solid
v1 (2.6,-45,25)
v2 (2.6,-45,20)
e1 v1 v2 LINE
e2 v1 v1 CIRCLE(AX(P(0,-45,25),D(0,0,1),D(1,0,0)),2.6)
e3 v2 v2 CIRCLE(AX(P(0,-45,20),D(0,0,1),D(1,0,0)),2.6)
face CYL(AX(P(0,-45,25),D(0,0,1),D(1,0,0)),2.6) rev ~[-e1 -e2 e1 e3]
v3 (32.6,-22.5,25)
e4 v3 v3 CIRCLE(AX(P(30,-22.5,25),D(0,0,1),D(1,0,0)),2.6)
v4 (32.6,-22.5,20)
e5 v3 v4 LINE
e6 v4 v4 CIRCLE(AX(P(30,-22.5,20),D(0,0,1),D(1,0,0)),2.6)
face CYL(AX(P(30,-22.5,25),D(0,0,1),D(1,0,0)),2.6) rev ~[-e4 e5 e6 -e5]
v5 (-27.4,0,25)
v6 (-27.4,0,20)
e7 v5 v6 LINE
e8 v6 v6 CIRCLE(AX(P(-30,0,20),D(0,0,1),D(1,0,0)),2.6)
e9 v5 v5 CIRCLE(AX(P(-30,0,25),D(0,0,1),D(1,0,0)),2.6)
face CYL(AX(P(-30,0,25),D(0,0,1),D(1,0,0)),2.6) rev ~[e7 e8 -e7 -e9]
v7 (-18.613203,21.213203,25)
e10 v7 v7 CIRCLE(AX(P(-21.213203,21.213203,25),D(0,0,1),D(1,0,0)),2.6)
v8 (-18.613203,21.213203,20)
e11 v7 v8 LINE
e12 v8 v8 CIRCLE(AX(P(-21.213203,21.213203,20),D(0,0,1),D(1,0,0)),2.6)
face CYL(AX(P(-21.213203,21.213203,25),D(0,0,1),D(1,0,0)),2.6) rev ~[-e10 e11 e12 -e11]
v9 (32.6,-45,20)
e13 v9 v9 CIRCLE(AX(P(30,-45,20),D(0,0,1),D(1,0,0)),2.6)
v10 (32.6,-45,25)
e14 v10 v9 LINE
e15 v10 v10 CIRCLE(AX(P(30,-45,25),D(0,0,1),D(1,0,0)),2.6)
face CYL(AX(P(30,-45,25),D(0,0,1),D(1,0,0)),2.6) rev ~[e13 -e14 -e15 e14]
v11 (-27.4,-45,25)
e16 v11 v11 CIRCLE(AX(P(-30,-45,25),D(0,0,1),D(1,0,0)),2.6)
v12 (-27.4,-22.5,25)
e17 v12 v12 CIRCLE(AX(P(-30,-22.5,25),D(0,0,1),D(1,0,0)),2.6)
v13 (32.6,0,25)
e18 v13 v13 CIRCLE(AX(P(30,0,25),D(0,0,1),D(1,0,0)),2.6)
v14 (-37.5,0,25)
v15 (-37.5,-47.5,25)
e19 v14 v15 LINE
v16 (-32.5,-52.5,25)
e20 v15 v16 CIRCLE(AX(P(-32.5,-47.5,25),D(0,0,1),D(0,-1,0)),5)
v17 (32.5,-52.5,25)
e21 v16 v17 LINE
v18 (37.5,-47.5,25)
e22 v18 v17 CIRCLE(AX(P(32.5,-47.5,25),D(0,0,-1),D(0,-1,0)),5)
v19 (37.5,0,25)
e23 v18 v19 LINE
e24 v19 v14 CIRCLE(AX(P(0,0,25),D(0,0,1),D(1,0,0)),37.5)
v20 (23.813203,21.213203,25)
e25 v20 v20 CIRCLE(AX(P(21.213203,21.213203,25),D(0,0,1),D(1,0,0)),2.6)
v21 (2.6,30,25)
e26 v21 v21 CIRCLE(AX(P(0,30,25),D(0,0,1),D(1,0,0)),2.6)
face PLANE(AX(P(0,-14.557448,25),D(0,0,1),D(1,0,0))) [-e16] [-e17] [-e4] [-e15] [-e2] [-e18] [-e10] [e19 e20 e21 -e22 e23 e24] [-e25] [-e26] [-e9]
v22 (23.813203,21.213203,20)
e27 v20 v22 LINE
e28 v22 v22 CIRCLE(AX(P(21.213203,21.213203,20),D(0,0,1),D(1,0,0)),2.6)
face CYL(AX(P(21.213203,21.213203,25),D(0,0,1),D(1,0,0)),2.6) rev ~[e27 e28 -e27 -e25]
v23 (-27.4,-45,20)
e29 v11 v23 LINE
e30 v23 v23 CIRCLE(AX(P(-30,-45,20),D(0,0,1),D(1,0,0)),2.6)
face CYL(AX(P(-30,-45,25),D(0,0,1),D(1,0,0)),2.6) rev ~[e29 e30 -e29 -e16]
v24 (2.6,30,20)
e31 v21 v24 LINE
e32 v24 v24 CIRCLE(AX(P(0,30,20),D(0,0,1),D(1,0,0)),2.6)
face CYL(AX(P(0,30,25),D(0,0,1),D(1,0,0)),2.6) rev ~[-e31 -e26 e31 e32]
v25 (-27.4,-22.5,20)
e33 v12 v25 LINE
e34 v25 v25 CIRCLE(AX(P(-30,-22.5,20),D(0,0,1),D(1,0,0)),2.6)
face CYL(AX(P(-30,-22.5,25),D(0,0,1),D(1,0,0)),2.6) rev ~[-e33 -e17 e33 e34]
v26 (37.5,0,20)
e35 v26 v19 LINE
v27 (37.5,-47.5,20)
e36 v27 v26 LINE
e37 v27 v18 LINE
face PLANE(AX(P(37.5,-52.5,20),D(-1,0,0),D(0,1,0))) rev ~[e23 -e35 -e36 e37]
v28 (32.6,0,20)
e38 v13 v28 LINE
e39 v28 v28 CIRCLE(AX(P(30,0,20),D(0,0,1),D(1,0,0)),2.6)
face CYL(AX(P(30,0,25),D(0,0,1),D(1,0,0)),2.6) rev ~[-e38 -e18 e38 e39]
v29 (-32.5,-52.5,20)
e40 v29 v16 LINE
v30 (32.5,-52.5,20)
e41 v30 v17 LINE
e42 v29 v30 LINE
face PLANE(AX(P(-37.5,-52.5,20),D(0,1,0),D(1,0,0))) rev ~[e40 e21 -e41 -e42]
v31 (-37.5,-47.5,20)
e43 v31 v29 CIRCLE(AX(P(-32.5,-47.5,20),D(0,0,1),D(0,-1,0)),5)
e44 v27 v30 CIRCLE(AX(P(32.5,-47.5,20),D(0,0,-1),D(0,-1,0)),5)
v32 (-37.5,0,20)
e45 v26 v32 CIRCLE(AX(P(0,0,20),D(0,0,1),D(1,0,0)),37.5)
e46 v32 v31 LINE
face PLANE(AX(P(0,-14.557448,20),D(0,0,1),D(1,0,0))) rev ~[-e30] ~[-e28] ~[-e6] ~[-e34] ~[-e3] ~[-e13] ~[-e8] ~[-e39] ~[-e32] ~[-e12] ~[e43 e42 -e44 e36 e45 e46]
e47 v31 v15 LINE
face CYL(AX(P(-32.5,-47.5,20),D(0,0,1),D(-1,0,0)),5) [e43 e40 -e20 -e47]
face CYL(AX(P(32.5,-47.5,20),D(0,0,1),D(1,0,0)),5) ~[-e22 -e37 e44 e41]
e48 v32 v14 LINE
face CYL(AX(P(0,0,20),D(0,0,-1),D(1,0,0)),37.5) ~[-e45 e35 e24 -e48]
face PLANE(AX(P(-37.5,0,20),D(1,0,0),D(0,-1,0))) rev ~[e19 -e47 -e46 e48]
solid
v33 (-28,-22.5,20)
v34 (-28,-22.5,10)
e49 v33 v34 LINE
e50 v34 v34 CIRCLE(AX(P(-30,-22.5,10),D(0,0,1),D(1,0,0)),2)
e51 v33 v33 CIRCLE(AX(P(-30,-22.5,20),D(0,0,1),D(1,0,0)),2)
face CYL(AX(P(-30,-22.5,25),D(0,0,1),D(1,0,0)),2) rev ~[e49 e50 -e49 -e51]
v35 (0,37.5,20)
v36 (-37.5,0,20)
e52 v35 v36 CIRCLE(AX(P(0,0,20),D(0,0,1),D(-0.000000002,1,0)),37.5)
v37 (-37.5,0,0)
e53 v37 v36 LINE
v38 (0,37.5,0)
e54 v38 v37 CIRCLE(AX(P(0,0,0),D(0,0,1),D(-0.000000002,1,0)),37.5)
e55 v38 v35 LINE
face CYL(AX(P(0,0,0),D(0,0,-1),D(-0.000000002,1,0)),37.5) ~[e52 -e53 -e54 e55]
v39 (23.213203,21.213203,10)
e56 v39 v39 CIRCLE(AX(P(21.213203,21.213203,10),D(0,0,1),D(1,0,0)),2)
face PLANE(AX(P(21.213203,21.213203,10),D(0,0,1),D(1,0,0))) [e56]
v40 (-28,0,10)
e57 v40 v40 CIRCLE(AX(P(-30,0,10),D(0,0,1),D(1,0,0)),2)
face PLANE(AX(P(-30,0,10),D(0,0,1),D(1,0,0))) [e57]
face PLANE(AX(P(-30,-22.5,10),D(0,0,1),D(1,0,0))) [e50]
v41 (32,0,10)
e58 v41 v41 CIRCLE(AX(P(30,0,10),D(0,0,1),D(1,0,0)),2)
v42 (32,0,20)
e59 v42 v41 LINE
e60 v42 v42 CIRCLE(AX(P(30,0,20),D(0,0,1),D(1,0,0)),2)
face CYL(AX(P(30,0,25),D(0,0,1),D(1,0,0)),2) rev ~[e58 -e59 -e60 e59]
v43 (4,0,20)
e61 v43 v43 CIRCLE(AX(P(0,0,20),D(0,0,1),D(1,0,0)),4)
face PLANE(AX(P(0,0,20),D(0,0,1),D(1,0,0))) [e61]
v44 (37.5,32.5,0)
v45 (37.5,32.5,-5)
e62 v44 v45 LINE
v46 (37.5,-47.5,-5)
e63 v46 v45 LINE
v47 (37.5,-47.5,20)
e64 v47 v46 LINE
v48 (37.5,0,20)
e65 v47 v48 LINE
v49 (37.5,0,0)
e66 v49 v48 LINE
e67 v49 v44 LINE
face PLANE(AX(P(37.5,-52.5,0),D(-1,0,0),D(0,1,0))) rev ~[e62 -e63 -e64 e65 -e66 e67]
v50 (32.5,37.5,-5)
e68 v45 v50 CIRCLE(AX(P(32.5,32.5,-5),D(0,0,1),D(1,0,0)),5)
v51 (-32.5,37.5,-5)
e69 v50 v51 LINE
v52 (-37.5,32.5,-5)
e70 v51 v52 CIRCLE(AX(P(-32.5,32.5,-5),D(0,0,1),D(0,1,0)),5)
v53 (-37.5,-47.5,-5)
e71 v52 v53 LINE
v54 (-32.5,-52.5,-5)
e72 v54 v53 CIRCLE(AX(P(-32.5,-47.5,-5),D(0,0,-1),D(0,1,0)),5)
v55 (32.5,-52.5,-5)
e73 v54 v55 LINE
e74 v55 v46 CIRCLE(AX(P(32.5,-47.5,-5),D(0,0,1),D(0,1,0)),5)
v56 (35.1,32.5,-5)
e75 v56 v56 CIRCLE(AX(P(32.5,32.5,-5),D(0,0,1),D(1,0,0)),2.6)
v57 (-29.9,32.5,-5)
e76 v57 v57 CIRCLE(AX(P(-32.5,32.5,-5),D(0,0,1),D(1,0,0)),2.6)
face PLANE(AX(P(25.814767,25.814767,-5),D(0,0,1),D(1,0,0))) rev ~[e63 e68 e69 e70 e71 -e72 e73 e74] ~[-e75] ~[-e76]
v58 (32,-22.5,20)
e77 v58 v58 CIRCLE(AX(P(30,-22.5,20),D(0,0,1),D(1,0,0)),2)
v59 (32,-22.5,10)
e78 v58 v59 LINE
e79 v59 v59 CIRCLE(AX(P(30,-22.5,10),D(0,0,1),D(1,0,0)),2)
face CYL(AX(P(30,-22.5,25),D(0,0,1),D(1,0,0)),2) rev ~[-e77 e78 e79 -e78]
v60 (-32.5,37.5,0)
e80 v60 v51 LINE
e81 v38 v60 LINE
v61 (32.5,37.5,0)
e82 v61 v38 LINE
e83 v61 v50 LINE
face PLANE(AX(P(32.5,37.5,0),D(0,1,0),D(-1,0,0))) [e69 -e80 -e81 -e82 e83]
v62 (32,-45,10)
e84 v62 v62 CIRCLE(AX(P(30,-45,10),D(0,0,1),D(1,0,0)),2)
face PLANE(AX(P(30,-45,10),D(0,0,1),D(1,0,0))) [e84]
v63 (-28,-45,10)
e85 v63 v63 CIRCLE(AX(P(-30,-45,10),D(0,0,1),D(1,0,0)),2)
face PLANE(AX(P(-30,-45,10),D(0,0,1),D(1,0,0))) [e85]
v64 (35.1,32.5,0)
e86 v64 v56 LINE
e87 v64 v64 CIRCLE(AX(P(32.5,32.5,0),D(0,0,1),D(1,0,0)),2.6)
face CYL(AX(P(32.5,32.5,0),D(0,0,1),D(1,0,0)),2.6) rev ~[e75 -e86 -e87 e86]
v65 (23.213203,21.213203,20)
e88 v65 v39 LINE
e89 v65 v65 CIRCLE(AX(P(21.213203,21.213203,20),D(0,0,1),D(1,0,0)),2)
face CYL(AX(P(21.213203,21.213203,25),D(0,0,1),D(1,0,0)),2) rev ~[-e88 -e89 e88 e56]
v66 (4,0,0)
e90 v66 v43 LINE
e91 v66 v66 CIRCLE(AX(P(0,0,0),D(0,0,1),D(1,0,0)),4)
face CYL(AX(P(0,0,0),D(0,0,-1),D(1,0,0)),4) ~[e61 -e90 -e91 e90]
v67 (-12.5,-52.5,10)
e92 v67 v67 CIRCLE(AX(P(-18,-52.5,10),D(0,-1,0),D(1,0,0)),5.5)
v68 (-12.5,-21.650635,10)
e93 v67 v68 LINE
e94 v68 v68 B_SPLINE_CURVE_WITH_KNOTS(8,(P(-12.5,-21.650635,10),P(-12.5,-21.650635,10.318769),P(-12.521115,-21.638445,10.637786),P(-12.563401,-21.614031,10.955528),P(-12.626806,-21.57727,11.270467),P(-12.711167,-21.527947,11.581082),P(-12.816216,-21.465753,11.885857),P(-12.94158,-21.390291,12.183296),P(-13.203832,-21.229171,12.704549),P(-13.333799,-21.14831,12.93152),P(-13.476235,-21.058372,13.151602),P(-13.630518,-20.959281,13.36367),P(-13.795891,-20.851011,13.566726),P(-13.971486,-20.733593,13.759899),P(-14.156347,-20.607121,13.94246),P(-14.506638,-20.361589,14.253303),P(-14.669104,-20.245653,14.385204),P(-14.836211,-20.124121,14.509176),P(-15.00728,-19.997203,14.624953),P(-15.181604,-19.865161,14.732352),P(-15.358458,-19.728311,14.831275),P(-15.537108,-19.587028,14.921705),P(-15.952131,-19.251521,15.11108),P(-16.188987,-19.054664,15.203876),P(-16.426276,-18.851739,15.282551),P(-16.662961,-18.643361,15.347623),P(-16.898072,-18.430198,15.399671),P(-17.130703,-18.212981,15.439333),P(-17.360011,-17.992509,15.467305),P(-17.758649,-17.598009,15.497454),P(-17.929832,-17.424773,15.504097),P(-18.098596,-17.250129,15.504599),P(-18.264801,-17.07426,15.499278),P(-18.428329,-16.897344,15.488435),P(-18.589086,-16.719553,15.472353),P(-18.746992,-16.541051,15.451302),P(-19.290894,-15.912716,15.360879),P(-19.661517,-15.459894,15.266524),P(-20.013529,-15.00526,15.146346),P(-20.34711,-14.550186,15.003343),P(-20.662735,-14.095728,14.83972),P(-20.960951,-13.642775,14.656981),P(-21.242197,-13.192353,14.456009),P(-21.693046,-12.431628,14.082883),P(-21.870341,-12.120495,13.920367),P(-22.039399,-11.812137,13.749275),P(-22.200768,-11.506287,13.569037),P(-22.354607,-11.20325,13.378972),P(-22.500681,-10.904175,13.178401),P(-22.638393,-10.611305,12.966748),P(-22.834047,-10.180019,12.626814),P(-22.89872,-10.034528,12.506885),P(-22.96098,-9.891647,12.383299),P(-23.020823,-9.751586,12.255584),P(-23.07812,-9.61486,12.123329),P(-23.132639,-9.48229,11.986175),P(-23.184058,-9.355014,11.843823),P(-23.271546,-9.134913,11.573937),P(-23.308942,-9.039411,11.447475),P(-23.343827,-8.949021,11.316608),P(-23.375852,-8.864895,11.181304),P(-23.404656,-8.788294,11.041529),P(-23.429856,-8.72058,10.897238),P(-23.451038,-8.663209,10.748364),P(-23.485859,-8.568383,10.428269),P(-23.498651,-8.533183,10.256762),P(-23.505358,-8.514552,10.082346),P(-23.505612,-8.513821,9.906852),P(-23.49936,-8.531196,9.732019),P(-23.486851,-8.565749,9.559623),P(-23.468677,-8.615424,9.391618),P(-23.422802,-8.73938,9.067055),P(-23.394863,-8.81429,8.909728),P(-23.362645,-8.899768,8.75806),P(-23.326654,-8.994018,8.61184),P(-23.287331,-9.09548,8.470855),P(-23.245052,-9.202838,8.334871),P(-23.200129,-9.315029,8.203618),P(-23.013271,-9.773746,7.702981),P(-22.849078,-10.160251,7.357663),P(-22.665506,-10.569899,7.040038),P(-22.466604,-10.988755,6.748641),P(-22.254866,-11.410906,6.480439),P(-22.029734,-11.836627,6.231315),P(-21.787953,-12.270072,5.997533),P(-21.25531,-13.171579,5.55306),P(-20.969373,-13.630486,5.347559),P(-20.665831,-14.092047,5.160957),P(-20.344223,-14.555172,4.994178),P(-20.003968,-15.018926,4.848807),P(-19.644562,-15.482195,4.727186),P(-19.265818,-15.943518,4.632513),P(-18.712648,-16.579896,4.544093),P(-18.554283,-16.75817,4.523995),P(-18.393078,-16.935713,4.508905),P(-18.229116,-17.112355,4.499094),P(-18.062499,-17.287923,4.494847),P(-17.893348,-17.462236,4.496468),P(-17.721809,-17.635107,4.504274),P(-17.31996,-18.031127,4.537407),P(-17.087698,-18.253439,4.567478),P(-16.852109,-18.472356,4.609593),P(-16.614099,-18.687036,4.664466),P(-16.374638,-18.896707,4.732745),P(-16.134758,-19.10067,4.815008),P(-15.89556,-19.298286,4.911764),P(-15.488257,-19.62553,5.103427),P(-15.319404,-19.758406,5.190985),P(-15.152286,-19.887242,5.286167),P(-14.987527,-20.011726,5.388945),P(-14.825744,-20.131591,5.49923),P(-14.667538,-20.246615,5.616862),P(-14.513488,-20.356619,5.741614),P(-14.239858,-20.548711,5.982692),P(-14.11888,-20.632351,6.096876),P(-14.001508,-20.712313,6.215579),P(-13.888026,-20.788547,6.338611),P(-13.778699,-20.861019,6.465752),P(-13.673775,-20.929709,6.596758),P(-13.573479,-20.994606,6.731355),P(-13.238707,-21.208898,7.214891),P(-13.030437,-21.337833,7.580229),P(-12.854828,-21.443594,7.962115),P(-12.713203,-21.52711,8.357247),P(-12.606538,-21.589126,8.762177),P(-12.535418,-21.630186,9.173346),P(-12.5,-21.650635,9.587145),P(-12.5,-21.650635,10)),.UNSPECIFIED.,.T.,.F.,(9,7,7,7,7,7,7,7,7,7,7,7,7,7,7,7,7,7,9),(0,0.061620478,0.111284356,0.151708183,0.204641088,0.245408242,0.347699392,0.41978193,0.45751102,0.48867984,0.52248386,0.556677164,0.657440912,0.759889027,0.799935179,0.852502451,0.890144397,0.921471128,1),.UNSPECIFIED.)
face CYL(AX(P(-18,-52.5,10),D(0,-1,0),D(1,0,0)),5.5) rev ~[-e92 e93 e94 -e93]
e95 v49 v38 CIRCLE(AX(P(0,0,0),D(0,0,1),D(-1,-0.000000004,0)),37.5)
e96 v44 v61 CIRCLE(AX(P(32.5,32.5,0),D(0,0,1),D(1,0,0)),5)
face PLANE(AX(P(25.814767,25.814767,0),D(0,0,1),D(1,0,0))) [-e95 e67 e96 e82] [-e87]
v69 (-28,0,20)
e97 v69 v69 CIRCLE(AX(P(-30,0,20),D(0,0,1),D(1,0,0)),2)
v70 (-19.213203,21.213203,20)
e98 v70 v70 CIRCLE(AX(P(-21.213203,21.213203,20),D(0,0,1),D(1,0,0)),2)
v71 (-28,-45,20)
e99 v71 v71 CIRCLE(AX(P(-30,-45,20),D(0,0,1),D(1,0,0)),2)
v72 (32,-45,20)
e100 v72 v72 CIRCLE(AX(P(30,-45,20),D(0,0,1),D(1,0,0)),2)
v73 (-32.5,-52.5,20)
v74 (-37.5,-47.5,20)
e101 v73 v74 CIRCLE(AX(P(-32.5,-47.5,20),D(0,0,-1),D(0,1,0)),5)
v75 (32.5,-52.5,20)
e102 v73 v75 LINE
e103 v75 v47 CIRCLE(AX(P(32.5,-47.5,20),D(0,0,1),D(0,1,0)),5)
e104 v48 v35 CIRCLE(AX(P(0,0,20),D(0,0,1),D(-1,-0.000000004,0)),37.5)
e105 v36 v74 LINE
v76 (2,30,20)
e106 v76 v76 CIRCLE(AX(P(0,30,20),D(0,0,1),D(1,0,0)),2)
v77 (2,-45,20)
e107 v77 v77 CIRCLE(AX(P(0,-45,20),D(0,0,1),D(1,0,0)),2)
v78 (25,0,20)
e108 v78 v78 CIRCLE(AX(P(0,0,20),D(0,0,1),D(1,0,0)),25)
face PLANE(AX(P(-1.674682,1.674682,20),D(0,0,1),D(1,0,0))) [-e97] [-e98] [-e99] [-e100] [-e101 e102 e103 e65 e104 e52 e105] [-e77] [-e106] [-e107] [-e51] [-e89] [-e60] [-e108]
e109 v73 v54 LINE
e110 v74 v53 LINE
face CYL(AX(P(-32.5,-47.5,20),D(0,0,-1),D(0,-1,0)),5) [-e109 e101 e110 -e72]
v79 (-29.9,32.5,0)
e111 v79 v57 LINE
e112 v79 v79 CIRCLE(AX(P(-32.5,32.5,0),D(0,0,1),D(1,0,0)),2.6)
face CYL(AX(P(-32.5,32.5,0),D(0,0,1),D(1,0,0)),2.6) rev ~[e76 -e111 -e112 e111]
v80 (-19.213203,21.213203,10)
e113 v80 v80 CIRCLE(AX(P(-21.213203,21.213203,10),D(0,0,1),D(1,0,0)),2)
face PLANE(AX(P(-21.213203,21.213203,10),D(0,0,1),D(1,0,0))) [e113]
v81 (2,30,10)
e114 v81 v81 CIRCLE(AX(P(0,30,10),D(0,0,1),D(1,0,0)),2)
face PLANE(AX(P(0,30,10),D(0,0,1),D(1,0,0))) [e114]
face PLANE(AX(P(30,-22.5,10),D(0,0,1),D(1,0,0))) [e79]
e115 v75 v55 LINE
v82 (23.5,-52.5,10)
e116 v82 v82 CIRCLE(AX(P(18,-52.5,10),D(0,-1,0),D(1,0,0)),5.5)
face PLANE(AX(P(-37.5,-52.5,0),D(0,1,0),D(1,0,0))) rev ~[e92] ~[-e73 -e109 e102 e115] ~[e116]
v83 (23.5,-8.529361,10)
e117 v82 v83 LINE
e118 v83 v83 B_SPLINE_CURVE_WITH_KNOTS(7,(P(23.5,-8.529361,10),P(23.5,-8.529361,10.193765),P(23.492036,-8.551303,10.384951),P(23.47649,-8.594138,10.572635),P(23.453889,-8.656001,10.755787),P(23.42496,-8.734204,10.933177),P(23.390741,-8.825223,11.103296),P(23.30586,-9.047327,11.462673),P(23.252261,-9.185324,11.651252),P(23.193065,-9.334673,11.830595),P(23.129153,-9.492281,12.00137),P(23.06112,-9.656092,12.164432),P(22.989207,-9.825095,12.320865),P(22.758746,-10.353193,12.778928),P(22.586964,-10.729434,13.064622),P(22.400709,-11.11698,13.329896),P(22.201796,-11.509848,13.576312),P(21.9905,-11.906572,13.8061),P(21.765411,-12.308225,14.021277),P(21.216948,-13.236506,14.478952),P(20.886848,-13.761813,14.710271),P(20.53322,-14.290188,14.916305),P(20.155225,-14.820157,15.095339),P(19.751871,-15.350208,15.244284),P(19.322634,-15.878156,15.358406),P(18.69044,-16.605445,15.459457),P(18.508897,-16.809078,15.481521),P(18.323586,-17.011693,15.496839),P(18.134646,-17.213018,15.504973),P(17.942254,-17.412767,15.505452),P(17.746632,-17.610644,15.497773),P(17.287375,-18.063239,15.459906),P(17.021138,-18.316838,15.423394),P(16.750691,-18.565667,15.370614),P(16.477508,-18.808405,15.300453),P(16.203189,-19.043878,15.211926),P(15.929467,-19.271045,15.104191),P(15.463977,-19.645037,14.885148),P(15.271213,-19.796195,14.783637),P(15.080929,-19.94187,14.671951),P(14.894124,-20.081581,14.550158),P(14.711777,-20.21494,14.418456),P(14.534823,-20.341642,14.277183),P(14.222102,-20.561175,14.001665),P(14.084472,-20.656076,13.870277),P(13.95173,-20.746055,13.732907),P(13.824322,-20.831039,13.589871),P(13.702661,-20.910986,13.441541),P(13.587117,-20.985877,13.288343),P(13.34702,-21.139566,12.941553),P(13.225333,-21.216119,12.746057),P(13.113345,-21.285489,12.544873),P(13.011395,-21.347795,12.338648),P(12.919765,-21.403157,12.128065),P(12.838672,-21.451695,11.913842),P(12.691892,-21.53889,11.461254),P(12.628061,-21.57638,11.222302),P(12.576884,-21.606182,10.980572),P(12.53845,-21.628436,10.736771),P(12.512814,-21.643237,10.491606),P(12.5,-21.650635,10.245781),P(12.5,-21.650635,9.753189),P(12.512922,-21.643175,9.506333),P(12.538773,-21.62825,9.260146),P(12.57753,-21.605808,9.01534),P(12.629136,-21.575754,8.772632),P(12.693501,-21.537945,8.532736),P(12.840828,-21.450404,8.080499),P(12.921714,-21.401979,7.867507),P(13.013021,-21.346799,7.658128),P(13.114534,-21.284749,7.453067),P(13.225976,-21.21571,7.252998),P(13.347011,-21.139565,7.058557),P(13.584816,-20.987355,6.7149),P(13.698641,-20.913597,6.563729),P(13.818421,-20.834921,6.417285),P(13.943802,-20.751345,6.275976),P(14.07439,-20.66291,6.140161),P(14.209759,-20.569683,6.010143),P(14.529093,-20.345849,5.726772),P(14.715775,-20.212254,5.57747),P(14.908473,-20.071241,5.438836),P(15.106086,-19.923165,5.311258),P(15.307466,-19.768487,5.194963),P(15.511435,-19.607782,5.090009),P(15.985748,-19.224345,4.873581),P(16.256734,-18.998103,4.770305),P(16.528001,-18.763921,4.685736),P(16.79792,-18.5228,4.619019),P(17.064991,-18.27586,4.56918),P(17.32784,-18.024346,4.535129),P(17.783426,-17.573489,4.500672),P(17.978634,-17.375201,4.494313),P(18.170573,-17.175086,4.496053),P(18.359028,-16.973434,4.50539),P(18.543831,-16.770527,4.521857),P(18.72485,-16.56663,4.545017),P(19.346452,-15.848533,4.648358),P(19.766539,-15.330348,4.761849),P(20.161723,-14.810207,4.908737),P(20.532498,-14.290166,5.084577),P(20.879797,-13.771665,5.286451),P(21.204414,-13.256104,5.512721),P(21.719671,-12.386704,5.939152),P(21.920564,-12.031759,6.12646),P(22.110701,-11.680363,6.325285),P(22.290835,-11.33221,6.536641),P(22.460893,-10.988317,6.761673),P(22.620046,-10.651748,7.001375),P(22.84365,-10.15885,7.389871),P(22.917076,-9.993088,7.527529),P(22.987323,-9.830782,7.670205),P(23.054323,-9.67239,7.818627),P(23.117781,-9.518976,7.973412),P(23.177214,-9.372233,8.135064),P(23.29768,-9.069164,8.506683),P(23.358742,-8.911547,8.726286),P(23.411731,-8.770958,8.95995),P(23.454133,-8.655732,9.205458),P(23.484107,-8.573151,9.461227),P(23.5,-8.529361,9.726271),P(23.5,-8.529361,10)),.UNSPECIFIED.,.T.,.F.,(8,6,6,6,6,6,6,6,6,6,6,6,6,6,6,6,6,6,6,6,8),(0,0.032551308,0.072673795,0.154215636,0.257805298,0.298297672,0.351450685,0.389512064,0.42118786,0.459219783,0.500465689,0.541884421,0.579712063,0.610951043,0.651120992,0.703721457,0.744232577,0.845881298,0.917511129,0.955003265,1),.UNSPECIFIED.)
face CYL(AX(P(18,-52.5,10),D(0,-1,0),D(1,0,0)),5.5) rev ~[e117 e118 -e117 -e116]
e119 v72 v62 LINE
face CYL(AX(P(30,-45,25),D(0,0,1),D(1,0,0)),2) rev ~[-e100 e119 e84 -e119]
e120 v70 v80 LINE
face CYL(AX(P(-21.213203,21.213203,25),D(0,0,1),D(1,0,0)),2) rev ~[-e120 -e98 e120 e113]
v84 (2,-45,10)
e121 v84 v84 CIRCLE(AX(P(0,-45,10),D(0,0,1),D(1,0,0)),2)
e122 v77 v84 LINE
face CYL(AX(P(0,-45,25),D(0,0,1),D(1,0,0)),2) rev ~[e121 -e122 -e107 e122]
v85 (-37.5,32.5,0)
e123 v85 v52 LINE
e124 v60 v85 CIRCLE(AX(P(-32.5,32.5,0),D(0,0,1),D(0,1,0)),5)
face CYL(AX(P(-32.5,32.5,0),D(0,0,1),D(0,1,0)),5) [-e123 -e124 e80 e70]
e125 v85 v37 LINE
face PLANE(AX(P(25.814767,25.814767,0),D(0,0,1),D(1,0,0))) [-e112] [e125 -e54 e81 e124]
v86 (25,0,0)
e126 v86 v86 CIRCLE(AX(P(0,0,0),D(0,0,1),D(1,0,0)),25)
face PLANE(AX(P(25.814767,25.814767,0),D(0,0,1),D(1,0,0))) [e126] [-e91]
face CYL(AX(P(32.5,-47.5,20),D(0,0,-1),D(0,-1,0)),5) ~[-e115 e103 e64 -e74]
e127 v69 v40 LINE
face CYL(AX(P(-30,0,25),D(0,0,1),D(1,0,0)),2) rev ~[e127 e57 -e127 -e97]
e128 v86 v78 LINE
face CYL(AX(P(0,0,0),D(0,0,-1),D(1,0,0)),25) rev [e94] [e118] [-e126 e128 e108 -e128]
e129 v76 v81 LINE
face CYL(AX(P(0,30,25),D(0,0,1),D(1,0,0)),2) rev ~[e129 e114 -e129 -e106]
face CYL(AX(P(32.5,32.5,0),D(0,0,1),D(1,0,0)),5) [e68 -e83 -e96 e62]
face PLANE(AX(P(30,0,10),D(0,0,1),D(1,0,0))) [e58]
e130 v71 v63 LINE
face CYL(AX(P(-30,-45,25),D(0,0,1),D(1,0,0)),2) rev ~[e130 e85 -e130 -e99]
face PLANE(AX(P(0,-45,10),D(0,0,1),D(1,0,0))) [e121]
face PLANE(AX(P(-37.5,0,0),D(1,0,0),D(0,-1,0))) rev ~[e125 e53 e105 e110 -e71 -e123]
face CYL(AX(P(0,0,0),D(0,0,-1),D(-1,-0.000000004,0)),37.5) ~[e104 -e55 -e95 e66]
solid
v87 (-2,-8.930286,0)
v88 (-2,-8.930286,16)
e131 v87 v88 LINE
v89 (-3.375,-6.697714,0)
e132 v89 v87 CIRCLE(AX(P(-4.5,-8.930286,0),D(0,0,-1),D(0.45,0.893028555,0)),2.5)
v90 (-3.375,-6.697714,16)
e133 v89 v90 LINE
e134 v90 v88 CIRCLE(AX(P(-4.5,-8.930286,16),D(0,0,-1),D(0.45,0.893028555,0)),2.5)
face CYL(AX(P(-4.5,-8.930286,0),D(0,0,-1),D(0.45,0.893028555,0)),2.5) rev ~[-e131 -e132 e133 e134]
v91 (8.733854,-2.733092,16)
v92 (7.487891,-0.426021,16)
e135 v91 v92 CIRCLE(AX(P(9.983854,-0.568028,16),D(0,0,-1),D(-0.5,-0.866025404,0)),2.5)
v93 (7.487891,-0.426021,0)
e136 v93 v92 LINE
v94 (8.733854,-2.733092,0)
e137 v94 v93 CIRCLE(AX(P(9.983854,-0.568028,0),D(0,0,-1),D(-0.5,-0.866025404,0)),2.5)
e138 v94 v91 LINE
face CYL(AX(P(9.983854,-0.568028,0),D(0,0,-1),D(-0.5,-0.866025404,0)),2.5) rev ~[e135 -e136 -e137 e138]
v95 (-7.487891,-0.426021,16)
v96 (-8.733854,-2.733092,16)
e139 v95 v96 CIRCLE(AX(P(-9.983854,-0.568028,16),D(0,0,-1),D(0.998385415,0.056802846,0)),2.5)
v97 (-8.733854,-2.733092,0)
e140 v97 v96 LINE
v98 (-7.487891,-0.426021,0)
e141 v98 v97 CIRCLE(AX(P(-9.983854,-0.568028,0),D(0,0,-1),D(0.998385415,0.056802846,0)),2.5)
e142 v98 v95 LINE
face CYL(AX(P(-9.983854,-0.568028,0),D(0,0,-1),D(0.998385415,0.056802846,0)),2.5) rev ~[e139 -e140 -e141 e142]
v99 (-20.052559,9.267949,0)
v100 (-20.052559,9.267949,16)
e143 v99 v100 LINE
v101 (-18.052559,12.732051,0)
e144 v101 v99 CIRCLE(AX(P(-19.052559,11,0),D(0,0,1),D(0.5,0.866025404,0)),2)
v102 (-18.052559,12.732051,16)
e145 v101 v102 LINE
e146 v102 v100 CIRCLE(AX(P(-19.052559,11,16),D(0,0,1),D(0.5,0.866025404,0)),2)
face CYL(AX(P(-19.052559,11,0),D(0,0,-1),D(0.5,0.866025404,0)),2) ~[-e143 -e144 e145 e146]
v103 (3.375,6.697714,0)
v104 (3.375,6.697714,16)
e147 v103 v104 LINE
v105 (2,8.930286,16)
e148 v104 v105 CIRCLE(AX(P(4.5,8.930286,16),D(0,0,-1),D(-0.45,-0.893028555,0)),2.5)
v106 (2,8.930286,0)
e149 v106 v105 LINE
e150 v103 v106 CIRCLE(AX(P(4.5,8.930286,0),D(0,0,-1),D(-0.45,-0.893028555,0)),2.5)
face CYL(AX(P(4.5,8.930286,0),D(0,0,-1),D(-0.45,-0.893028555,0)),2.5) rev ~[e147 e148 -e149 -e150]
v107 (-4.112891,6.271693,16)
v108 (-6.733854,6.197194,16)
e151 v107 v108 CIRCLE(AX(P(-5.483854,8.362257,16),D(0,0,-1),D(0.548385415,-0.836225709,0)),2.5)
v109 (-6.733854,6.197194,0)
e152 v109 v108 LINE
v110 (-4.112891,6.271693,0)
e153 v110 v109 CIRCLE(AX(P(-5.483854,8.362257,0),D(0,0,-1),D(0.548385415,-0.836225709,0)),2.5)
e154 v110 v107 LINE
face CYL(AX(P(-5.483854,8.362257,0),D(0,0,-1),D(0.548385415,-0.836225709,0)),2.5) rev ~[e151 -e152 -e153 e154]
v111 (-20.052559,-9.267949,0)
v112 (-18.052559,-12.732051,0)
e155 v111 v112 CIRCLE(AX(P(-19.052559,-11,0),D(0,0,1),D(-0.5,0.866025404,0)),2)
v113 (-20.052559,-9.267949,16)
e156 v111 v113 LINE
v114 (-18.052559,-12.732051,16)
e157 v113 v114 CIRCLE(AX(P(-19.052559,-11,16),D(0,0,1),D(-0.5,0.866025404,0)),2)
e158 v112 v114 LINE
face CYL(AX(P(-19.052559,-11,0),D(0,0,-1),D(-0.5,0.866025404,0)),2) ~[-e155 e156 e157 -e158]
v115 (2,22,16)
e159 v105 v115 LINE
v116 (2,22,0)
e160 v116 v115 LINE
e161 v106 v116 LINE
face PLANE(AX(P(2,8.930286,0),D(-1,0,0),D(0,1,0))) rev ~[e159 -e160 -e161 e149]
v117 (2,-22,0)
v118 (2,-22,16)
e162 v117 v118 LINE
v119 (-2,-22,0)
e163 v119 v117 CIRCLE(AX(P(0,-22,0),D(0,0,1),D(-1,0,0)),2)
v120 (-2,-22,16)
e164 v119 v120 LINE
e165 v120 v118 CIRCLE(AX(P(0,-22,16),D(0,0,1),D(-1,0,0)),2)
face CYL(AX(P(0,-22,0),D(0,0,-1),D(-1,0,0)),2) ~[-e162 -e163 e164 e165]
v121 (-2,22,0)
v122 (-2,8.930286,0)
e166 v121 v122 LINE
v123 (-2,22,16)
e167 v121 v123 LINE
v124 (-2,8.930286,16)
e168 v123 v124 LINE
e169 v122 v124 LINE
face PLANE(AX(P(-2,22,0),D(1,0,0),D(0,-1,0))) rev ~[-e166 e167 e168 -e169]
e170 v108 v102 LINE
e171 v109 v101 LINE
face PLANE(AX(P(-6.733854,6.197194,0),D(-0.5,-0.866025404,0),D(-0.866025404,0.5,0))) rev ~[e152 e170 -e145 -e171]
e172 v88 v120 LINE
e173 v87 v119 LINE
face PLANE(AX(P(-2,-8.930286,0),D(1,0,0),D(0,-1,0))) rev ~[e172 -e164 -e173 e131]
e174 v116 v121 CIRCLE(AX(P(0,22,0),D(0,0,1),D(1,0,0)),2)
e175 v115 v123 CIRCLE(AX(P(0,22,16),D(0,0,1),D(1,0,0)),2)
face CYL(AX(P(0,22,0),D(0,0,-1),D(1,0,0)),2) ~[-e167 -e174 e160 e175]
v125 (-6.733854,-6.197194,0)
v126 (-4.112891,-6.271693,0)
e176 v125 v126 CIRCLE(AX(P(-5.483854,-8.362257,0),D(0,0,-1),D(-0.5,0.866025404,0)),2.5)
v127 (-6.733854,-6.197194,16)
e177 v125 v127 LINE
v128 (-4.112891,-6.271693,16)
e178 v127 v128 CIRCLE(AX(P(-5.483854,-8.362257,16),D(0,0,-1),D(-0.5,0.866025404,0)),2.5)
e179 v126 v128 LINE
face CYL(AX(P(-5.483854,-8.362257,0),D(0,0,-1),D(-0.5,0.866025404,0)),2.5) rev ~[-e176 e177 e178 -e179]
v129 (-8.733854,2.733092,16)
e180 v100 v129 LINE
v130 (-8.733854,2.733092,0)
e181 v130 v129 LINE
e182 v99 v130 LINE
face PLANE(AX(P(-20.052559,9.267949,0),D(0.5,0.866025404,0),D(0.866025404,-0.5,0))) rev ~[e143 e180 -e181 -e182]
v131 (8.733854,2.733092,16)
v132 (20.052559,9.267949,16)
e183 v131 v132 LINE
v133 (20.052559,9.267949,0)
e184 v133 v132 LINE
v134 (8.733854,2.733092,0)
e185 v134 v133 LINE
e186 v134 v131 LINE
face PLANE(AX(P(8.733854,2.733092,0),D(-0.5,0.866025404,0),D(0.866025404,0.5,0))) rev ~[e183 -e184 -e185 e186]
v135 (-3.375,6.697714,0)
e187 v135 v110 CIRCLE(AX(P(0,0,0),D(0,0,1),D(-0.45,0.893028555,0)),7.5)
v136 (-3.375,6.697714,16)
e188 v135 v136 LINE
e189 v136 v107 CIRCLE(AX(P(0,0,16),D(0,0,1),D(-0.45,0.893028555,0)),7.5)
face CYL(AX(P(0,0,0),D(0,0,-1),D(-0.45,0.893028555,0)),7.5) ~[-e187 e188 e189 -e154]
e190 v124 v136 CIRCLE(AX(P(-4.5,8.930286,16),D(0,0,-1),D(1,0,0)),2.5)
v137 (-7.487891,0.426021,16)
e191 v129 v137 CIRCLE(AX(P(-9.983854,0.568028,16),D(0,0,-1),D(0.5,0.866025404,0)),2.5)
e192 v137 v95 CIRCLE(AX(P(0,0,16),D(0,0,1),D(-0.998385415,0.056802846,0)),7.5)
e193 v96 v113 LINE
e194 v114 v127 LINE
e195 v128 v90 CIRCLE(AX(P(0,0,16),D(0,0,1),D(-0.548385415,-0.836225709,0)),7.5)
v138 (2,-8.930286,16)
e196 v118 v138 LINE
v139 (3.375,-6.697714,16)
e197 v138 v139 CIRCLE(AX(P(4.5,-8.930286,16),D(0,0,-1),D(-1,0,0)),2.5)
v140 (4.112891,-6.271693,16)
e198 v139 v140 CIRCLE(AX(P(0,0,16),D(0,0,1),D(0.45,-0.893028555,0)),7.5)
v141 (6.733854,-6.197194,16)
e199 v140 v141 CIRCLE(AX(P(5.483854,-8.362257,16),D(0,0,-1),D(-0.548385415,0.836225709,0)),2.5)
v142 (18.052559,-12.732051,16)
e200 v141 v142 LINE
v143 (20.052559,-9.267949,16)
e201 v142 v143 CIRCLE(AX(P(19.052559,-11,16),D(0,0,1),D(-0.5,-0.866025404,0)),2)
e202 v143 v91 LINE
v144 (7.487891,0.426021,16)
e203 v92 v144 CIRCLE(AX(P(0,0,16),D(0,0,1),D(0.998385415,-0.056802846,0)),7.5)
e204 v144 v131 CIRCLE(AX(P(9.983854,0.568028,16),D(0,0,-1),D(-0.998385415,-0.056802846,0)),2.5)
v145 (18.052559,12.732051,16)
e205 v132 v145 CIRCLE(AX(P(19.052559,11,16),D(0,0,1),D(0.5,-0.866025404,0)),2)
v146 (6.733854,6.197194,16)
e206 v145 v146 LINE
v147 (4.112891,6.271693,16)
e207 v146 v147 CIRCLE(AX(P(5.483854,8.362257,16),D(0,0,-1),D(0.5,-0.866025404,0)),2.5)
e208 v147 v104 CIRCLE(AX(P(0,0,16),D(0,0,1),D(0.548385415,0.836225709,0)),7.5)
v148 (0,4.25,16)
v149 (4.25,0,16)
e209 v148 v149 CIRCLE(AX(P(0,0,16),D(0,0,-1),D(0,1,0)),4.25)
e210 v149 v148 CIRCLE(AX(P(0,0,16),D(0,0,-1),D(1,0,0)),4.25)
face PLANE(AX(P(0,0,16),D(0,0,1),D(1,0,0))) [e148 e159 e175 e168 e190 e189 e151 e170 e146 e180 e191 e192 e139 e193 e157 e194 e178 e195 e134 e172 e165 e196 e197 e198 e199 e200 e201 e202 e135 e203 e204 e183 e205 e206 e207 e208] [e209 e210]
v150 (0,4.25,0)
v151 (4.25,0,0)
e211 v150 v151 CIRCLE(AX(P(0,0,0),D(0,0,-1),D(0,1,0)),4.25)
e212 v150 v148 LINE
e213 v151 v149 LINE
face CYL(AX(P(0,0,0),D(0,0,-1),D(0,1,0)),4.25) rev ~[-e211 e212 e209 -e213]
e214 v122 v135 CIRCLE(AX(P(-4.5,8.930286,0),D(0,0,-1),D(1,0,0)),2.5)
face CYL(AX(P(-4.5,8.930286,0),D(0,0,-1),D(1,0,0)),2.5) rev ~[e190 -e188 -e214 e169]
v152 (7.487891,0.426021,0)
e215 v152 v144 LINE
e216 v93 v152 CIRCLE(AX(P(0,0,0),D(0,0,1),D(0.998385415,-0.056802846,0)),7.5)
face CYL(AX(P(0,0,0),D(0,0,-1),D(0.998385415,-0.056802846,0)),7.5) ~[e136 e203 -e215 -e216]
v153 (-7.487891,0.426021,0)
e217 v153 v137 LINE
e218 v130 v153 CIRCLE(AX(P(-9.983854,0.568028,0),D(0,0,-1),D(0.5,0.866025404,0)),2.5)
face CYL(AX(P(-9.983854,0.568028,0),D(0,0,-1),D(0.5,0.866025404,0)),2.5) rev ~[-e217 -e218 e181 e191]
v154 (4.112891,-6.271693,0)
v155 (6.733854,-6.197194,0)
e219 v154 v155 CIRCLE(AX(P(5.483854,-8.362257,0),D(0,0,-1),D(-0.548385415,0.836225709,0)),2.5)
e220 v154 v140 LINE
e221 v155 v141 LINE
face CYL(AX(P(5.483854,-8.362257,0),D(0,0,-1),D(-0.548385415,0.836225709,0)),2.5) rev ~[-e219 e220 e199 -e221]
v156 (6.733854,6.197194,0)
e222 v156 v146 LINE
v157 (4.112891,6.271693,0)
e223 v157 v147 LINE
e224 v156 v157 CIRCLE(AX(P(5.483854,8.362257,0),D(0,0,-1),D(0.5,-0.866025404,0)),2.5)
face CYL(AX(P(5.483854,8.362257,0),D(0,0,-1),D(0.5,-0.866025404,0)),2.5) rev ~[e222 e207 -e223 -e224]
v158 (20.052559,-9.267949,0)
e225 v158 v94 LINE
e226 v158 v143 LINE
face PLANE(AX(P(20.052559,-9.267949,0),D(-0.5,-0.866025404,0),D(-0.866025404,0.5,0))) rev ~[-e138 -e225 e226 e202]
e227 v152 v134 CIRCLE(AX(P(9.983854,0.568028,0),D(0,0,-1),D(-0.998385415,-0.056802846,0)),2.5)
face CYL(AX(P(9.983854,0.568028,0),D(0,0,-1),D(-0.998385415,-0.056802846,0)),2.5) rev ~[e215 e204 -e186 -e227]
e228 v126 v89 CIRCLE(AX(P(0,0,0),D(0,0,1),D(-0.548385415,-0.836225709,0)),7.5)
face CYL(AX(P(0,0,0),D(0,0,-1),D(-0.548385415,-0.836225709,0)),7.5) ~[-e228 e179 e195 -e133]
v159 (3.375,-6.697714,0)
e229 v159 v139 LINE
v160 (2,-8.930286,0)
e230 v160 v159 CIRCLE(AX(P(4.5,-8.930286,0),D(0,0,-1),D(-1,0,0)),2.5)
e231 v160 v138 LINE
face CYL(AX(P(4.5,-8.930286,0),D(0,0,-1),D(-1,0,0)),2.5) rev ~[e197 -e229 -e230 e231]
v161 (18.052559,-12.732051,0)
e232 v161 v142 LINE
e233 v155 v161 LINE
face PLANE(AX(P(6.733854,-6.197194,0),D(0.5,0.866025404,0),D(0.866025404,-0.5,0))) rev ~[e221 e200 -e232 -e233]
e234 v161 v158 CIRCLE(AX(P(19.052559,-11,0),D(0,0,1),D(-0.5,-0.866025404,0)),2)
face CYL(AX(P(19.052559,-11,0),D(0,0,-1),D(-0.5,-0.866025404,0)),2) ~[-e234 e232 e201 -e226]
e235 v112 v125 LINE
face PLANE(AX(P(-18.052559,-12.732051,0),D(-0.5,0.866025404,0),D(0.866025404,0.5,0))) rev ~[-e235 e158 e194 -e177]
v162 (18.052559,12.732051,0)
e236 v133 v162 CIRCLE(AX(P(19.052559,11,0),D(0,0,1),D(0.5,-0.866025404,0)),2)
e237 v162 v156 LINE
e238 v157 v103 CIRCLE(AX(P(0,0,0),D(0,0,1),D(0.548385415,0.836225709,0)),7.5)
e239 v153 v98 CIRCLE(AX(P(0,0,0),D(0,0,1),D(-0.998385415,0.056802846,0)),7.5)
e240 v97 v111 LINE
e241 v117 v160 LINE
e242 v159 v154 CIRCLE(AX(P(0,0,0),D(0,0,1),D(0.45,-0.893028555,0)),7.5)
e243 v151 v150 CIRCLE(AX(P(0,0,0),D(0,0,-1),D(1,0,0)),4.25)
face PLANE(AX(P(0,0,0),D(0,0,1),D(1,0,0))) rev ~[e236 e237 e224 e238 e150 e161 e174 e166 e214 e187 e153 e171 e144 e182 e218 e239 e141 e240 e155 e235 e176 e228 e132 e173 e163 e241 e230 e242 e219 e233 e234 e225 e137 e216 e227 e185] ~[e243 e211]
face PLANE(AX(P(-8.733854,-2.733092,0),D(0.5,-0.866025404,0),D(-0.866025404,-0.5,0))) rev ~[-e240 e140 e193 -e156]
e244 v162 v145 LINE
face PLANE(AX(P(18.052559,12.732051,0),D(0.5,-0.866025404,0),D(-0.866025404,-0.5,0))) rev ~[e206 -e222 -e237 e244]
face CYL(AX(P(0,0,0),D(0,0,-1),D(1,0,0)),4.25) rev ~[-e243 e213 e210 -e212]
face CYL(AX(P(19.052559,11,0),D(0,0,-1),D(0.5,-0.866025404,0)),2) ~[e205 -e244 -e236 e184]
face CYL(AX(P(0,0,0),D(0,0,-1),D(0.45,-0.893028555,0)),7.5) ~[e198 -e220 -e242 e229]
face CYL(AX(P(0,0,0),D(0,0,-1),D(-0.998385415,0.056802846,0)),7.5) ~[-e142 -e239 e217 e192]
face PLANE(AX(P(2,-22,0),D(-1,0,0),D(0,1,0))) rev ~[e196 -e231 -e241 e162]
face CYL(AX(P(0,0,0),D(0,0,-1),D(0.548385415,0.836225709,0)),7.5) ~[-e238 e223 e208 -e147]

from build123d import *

# Parameters (mm, degrees)
F0_R      = 2.6
F0_R_2    = 25
F1_DEPTH  = 5
F2_DEPTH  = 20
F3_R      = 25
F4_DEPTH  = 5
F5_R      = 5
F5_2_R    = 5
F6_R      = 2
F7_DEPTH  = 15
F8_R      = 4
F9_DEPTH  = 20
F10_R     = 2.6
F11_DEPTH = 5
F12_R     = 5.5
F13_DEPTH = 50
F15_DEPTH = 16


with BuildPart() as f1:
    # F0 (on Top) → F1 (new body)
    with BuildSketch(Plane.XY):
        with BuildLine():
            ThreePointArc((-9.11e-08, 37.5), (26.5165042623, 26.5165043267), (37.5, 0))
            Line((37.5, 0), (37.5, 32.5))
            ThreePointArc((37.5, 32.5), (36.0355339059, 36.0355339059), (32.5, 37.5))
            Line((32.5, 37.5), (-9.11e-08, 37.5))
        make_face()
        with Locations((32.5, 32.5)):
            Circle(F0_R, mode=Mode.SUBTRACT)
        with BuildLine():
            ThreePointArc((-37.5, -1.672e-07), (-26.5165043858, 26.5165042031), (-9.11e-08, 37.5))
            Line((-9.11e-08, 37.5), (-32.5, 37.5))
            ThreePointArc((-32.5, 37.5), (-36.0355339059, 36.0355339059), (-37.5, 32.5))
            Line((-37.5, 32.5), (-37.5, -1.672e-07))
        make_face()
        with Locations((-32.5, 32.5)):
            Circle(F0_R, mode=Mode.SUBTRACT)
        with BuildLine():
            Line((37.5, -37.5), (37.5, 0))
            ThreePointArc((37.5, 0), (8.36e-08, -37.5), (-37.5, -1.672e-07))
            Line((-37.5, -1.672e-07), (-37.5, -37.5))
            Line((-37.5, -37.5), (-37.5, -52.5))
            Line((-37.5, -52.5), (37.5, -52.5))
            Line((37.5, -52.5), (37.5, -37.5))
        make_face()
        with BuildLine():
            ThreePointArc((-37.5, -1.672e-07), (8.36e-08, -37.5), (37.5, 0))
            ThreePointArc((37.5, 0), (26.5165042623, 26.5165043267), (-9.11e-08, 37.5))
            ThreePointArc((-9.11e-08, 37.5), (-26.5165043858, 26.5165042031), (-37.5, -1.672e-07))
        make_face()
        Circle(F0_R_2, mode=Mode.SUBTRACT)
        Circle(F0_R_2)
    extrude(amount=-F1_DEPTH)

    # F0 (on Top) → F2 (join)
    with BuildSketch(Plane.XY):
        with BuildLine():
            ThreePointArc((-37.5, -1.672e-07), (8.36e-08, -37.5), (37.5, 0))
            ThreePointArc((37.5, 0), (26.5165042623, 26.5165043267), (-9.11e-08, 37.5))
            ThreePointArc((-9.11e-08, 37.5), (-26.5165043858, 26.5165042031), (-37.5, -1.672e-07))
        make_face()
        Circle(F0_R_2, mode=Mode.SUBTRACT)
        with BuildLine():
            Line((37.5, -37.5), (37.5, 0))
            ThreePointArc((37.5, 0), (8.36e-08, -37.5), (-37.5, -1.672e-07))
            Line((-37.5, -1.672e-07), (-37.5, -37.5))
            Line((-37.5, -37.5), (-37.5, -52.5))
            Line((-37.5, -52.5), (37.5, -52.5))
            Line((37.5, -52.5), (37.5, -37.5))
        make_face()
    extrude(amount=F2_DEPTH)

    # F5
    f5_edges = [f1.edges().sort_by_distance(p)[0] for p in [
        (-37.5, -52.5, 7.5),
        (37.5, -52.5, 7.5),
    ]]
    fillet(f5_edges, radius=F5_R)


with BuildPart() as f4:
    # F3 (on face) → F4 (new body)
    with BuildSketch(Plane.XY.offset(20)):
        with BuildLine():
            Line((37.5, -52.5), (37.5, 0))
            ThreePointArc((37.5, 0), (0, 37.5), (-37.5, 0))
            Line((-37.5, 0), (-37.5, -52.5))
            Line((-37.5, -52.5), (37.5, -52.5))
        make_face()
        Circle(F3_R, mode=Mode.SUBTRACT)
        Circle(F3_R)
    extrude(amount=F4_DEPTH)

    # F5#2
    f5_2_edges = [f4.edges().sort_by_distance(p)[0] for p in [
        (-37.5, -52.5, 22.5),
        (37.5, -52.5, 22.5),
    ]]
    fillet(f5_2_edges, radius=F5_2_R)


with BuildPart() as f7_tool:
    # F6 (on face) → F7 (new body)
    with BuildSketch(Plane.XY.offset(25)):
        with Locations((-30, -45)):
            Circle(F6_R)
        with Locations((30, -45)):
            Circle(F6_R)
        with Locations((0, -45)):
            Circle(F6_R)
        with Locations((-30, 0)):
            Circle(F6_R)
        with Locations((30, 0)):
            Circle(F6_R)
        with Locations((30, -22.5)):
            Circle(F6_R)
        with Locations((-30, -22.5)):
            Circle(F6_R)
        with Locations((0, 30)):
            Circle(F6_R)
        with Locations((-21.2132034356, 21.2132034356)):
            Circle(F6_R)
        with Locations((21.2132034356, 21.2132034356)):
            Circle(F6_R)
    extrude(amount=-F7_DEPTH)


with BuildPart() as f1_1:
    add(f1.part)

    # F7: cut by f7_tool
    add(f7_tool.part, mode=Mode.SUBTRACT)

    # F8 (on Top) → F9 (join)
    with BuildSketch(Plane.XY):
        Circle(F8_R)
    extrude(amount=F9_DEPTH)

    # F12 (on face) → F13 (cut)
    with BuildSketch(Plane.XZ.offset(52.5)):
        with Locations((-18, 10)):
            Circle(F12_R)
        with Locations((18, 10)):
            Circle(F12_R)
    extrude(amount=-F13_DEPTH, mode=Mode.SUBTRACT)


with BuildPart() as f4_1:
    add(f4.part)

    # F7: cut by f7_tool
    add(f7_tool.part, mode=Mode.SUBTRACT)

    # F10 (on face) → F11 (cut)
    with BuildSketch(Plane.XY.offset(25)):
        with Locations((-30, -45)):
            Circle(F10_R)
        with Locations((0, -45)):
            Circle(F10_R)
        with Locations((-30, -22.5)):
            Circle(F10_R)
        with Locations((30, -45)):
            Circle(F10_R)
        with Locations((30, -22.5)):
            Circle(F10_R)
        with Locations((30, 0)):
            Circle(F10_R)
        with Locations((21.2132034356, 21.2132034356)):
            Circle(F10_R)
        with Locations((0, 30)):
            Circle(F10_R)
        with Locations((-21.2132034356, 21.2132034356)):
            Circle(F10_R)
        with Locations((-30, 0)):
            Circle(F10_R)
    extrude(amount=-F11_DEPTH, mode=Mode.SUBTRACT)


with BuildPart() as f15:
    # F14 (on face) → F15 (new body)
    with BuildSketch(Plane.XY):
        with BuildLine():
            ThreePointArc((2, 22), (0, 24), (-2, 22))
            Line((-2, 22), (-2, 8.9302855497))
            ThreePointArc((-2, 8.9302855497), (-2.3713267043, 7.6192744895), (-3.375, 6.6977141623))
            ThreePointArc((-3.375, 6.6977141623), (-3.75, 6.4951905284), (-4.1128906118, 6.2716928189))
            ThreePointArc((-4.1128906118, 6.2716928189), (-5.4128219142, 5.8632664113), (-6.7338541491, 6.1971935824))
            Line((-6.7338541491, 6.1971935824), (-18.0525588833, 12.7320508076))
            ThreePointArc((-18.0525588833, 12.7320508076), (-20.7846096908, 12), (-20.0525588833, 9.2679491924))
            Line((-20.0525588833, 9.2679491924), (-8.7338541491, 2.7330919673))
            ThreePointArc((-8.7338541491, 2.7330919673), (-7.7841486185, 1.7560080782), (-7.4878906118, 0.4260213434))
            ThreePointArc((-7.4878906118, 0.4260213434), (-7.5, 0), (-7.4878906118, -0.4260213434))
            ThreePointArc((-7.4878906118, -0.4260213434), (-7.7841486185, -1.7560080782), (-8.7338541491, -2.7330919673))
            Line((-8.7338541491, -2.7330919673), (-20.0525588833, -9.2679491924))
            ThreePointArc((-20.0525588833, -9.2679491924), (-20.7846096908, -12), (-18.0525588833, -12.7320508076))
            Line((-18.0525588833, -12.7320508076), (-6.7338541491, -6.1971935824))
            ThreePointArc((-6.7338541491, -6.1971935824), (-5.4128219142, -5.8632664113), (-4.1128906118, -6.2716928189))
            ThreePointArc((-4.1128906118, -6.2716928189), (-3.75, -6.4951905284), (-3.375, -6.6977141623))
            ThreePointArc((-3.375, -6.6977141623), (-2.3713267043, -7.6192744895), (-2, -8.9302855497))
            Line((-2, -8.9302855497), (-2, -22))
            ThreePointArc((-2, -22), (0, -24), (2, -22))
            Line((2, -22), (2, -8.9302855497))
            ThreePointArc((2, -8.9302855497), (2.3713267043, -7.6192744895), (3.375, -6.6977141623))
            ThreePointArc((3.375, -6.6977141623), (3.75, -6.4951905284), (4.1128906118, -6.2716928189))
            ThreePointArc((4.1128906118, -6.2716928189), (5.4128219142, -5.8632664113), (6.7338541491, -6.1971935824))
            Line((6.7338541491, -6.1971935824), (18.0525588833, -12.7320508076))
            ThreePointArc((18.0525588833, -12.7320508076), (20.7846096908, -12), (20.0525588833, -9.2679491924))
            Line((20.0525588833, -9.2679491924), (8.7338541491, -2.7330919673))
            ThreePointArc((8.7338541491, -2.7330919673), (7.7841486185, -1.7560080782), (7.4878906118, -0.4260213434))
            ThreePointArc((7.4878906118, -0.4260213434), (7.5, 0), (7.4878906118, 0.4260213434))
            ThreePointArc((7.4878906118, 0.4260213434), (7.7841486185, 1.7560080782), (8.7338541491, 2.7330919673))
            Line((8.7338541491, 2.7330919673), (20.0525588833, 9.2679491924))
            ThreePointArc((20.0525588833, 9.2679491924), (20.7846096908, 12), (18.0525588833, 12.7320508076))
            Line((18.0525588833, 12.7320508076), (6.7338541491, 6.1971935824))
            ThreePointArc((6.7338541491, 6.1971935824), (5.4128219142, 5.8632664113), (4.1128906118, 6.2716928189))
            ThreePointArc((4.1128906118, 6.2716928189), (3.75, 6.4951905284), (3.375, 6.6977141623))
            ThreePointArc((3.375, 6.6977141623), (2.3713267043, 7.6192744895), (2, 8.9302855497))
            Line((2, 8.9302855497), (2, 22))
        make_face()
        with BuildLine():
            ThreePointArc((0, 4.25), (3.00520382, 3.00520382), (4.25, 0))
            ThreePointArc((4.25, 0), (-3.00520382, -3.00520382), (0, 4.25))
        make_face(mode=Mode.SUBTRACT)
    extrude(amount=F15_DEPTH)


solid = Compound([f1_1.part, f4_1.part, f15.part])
